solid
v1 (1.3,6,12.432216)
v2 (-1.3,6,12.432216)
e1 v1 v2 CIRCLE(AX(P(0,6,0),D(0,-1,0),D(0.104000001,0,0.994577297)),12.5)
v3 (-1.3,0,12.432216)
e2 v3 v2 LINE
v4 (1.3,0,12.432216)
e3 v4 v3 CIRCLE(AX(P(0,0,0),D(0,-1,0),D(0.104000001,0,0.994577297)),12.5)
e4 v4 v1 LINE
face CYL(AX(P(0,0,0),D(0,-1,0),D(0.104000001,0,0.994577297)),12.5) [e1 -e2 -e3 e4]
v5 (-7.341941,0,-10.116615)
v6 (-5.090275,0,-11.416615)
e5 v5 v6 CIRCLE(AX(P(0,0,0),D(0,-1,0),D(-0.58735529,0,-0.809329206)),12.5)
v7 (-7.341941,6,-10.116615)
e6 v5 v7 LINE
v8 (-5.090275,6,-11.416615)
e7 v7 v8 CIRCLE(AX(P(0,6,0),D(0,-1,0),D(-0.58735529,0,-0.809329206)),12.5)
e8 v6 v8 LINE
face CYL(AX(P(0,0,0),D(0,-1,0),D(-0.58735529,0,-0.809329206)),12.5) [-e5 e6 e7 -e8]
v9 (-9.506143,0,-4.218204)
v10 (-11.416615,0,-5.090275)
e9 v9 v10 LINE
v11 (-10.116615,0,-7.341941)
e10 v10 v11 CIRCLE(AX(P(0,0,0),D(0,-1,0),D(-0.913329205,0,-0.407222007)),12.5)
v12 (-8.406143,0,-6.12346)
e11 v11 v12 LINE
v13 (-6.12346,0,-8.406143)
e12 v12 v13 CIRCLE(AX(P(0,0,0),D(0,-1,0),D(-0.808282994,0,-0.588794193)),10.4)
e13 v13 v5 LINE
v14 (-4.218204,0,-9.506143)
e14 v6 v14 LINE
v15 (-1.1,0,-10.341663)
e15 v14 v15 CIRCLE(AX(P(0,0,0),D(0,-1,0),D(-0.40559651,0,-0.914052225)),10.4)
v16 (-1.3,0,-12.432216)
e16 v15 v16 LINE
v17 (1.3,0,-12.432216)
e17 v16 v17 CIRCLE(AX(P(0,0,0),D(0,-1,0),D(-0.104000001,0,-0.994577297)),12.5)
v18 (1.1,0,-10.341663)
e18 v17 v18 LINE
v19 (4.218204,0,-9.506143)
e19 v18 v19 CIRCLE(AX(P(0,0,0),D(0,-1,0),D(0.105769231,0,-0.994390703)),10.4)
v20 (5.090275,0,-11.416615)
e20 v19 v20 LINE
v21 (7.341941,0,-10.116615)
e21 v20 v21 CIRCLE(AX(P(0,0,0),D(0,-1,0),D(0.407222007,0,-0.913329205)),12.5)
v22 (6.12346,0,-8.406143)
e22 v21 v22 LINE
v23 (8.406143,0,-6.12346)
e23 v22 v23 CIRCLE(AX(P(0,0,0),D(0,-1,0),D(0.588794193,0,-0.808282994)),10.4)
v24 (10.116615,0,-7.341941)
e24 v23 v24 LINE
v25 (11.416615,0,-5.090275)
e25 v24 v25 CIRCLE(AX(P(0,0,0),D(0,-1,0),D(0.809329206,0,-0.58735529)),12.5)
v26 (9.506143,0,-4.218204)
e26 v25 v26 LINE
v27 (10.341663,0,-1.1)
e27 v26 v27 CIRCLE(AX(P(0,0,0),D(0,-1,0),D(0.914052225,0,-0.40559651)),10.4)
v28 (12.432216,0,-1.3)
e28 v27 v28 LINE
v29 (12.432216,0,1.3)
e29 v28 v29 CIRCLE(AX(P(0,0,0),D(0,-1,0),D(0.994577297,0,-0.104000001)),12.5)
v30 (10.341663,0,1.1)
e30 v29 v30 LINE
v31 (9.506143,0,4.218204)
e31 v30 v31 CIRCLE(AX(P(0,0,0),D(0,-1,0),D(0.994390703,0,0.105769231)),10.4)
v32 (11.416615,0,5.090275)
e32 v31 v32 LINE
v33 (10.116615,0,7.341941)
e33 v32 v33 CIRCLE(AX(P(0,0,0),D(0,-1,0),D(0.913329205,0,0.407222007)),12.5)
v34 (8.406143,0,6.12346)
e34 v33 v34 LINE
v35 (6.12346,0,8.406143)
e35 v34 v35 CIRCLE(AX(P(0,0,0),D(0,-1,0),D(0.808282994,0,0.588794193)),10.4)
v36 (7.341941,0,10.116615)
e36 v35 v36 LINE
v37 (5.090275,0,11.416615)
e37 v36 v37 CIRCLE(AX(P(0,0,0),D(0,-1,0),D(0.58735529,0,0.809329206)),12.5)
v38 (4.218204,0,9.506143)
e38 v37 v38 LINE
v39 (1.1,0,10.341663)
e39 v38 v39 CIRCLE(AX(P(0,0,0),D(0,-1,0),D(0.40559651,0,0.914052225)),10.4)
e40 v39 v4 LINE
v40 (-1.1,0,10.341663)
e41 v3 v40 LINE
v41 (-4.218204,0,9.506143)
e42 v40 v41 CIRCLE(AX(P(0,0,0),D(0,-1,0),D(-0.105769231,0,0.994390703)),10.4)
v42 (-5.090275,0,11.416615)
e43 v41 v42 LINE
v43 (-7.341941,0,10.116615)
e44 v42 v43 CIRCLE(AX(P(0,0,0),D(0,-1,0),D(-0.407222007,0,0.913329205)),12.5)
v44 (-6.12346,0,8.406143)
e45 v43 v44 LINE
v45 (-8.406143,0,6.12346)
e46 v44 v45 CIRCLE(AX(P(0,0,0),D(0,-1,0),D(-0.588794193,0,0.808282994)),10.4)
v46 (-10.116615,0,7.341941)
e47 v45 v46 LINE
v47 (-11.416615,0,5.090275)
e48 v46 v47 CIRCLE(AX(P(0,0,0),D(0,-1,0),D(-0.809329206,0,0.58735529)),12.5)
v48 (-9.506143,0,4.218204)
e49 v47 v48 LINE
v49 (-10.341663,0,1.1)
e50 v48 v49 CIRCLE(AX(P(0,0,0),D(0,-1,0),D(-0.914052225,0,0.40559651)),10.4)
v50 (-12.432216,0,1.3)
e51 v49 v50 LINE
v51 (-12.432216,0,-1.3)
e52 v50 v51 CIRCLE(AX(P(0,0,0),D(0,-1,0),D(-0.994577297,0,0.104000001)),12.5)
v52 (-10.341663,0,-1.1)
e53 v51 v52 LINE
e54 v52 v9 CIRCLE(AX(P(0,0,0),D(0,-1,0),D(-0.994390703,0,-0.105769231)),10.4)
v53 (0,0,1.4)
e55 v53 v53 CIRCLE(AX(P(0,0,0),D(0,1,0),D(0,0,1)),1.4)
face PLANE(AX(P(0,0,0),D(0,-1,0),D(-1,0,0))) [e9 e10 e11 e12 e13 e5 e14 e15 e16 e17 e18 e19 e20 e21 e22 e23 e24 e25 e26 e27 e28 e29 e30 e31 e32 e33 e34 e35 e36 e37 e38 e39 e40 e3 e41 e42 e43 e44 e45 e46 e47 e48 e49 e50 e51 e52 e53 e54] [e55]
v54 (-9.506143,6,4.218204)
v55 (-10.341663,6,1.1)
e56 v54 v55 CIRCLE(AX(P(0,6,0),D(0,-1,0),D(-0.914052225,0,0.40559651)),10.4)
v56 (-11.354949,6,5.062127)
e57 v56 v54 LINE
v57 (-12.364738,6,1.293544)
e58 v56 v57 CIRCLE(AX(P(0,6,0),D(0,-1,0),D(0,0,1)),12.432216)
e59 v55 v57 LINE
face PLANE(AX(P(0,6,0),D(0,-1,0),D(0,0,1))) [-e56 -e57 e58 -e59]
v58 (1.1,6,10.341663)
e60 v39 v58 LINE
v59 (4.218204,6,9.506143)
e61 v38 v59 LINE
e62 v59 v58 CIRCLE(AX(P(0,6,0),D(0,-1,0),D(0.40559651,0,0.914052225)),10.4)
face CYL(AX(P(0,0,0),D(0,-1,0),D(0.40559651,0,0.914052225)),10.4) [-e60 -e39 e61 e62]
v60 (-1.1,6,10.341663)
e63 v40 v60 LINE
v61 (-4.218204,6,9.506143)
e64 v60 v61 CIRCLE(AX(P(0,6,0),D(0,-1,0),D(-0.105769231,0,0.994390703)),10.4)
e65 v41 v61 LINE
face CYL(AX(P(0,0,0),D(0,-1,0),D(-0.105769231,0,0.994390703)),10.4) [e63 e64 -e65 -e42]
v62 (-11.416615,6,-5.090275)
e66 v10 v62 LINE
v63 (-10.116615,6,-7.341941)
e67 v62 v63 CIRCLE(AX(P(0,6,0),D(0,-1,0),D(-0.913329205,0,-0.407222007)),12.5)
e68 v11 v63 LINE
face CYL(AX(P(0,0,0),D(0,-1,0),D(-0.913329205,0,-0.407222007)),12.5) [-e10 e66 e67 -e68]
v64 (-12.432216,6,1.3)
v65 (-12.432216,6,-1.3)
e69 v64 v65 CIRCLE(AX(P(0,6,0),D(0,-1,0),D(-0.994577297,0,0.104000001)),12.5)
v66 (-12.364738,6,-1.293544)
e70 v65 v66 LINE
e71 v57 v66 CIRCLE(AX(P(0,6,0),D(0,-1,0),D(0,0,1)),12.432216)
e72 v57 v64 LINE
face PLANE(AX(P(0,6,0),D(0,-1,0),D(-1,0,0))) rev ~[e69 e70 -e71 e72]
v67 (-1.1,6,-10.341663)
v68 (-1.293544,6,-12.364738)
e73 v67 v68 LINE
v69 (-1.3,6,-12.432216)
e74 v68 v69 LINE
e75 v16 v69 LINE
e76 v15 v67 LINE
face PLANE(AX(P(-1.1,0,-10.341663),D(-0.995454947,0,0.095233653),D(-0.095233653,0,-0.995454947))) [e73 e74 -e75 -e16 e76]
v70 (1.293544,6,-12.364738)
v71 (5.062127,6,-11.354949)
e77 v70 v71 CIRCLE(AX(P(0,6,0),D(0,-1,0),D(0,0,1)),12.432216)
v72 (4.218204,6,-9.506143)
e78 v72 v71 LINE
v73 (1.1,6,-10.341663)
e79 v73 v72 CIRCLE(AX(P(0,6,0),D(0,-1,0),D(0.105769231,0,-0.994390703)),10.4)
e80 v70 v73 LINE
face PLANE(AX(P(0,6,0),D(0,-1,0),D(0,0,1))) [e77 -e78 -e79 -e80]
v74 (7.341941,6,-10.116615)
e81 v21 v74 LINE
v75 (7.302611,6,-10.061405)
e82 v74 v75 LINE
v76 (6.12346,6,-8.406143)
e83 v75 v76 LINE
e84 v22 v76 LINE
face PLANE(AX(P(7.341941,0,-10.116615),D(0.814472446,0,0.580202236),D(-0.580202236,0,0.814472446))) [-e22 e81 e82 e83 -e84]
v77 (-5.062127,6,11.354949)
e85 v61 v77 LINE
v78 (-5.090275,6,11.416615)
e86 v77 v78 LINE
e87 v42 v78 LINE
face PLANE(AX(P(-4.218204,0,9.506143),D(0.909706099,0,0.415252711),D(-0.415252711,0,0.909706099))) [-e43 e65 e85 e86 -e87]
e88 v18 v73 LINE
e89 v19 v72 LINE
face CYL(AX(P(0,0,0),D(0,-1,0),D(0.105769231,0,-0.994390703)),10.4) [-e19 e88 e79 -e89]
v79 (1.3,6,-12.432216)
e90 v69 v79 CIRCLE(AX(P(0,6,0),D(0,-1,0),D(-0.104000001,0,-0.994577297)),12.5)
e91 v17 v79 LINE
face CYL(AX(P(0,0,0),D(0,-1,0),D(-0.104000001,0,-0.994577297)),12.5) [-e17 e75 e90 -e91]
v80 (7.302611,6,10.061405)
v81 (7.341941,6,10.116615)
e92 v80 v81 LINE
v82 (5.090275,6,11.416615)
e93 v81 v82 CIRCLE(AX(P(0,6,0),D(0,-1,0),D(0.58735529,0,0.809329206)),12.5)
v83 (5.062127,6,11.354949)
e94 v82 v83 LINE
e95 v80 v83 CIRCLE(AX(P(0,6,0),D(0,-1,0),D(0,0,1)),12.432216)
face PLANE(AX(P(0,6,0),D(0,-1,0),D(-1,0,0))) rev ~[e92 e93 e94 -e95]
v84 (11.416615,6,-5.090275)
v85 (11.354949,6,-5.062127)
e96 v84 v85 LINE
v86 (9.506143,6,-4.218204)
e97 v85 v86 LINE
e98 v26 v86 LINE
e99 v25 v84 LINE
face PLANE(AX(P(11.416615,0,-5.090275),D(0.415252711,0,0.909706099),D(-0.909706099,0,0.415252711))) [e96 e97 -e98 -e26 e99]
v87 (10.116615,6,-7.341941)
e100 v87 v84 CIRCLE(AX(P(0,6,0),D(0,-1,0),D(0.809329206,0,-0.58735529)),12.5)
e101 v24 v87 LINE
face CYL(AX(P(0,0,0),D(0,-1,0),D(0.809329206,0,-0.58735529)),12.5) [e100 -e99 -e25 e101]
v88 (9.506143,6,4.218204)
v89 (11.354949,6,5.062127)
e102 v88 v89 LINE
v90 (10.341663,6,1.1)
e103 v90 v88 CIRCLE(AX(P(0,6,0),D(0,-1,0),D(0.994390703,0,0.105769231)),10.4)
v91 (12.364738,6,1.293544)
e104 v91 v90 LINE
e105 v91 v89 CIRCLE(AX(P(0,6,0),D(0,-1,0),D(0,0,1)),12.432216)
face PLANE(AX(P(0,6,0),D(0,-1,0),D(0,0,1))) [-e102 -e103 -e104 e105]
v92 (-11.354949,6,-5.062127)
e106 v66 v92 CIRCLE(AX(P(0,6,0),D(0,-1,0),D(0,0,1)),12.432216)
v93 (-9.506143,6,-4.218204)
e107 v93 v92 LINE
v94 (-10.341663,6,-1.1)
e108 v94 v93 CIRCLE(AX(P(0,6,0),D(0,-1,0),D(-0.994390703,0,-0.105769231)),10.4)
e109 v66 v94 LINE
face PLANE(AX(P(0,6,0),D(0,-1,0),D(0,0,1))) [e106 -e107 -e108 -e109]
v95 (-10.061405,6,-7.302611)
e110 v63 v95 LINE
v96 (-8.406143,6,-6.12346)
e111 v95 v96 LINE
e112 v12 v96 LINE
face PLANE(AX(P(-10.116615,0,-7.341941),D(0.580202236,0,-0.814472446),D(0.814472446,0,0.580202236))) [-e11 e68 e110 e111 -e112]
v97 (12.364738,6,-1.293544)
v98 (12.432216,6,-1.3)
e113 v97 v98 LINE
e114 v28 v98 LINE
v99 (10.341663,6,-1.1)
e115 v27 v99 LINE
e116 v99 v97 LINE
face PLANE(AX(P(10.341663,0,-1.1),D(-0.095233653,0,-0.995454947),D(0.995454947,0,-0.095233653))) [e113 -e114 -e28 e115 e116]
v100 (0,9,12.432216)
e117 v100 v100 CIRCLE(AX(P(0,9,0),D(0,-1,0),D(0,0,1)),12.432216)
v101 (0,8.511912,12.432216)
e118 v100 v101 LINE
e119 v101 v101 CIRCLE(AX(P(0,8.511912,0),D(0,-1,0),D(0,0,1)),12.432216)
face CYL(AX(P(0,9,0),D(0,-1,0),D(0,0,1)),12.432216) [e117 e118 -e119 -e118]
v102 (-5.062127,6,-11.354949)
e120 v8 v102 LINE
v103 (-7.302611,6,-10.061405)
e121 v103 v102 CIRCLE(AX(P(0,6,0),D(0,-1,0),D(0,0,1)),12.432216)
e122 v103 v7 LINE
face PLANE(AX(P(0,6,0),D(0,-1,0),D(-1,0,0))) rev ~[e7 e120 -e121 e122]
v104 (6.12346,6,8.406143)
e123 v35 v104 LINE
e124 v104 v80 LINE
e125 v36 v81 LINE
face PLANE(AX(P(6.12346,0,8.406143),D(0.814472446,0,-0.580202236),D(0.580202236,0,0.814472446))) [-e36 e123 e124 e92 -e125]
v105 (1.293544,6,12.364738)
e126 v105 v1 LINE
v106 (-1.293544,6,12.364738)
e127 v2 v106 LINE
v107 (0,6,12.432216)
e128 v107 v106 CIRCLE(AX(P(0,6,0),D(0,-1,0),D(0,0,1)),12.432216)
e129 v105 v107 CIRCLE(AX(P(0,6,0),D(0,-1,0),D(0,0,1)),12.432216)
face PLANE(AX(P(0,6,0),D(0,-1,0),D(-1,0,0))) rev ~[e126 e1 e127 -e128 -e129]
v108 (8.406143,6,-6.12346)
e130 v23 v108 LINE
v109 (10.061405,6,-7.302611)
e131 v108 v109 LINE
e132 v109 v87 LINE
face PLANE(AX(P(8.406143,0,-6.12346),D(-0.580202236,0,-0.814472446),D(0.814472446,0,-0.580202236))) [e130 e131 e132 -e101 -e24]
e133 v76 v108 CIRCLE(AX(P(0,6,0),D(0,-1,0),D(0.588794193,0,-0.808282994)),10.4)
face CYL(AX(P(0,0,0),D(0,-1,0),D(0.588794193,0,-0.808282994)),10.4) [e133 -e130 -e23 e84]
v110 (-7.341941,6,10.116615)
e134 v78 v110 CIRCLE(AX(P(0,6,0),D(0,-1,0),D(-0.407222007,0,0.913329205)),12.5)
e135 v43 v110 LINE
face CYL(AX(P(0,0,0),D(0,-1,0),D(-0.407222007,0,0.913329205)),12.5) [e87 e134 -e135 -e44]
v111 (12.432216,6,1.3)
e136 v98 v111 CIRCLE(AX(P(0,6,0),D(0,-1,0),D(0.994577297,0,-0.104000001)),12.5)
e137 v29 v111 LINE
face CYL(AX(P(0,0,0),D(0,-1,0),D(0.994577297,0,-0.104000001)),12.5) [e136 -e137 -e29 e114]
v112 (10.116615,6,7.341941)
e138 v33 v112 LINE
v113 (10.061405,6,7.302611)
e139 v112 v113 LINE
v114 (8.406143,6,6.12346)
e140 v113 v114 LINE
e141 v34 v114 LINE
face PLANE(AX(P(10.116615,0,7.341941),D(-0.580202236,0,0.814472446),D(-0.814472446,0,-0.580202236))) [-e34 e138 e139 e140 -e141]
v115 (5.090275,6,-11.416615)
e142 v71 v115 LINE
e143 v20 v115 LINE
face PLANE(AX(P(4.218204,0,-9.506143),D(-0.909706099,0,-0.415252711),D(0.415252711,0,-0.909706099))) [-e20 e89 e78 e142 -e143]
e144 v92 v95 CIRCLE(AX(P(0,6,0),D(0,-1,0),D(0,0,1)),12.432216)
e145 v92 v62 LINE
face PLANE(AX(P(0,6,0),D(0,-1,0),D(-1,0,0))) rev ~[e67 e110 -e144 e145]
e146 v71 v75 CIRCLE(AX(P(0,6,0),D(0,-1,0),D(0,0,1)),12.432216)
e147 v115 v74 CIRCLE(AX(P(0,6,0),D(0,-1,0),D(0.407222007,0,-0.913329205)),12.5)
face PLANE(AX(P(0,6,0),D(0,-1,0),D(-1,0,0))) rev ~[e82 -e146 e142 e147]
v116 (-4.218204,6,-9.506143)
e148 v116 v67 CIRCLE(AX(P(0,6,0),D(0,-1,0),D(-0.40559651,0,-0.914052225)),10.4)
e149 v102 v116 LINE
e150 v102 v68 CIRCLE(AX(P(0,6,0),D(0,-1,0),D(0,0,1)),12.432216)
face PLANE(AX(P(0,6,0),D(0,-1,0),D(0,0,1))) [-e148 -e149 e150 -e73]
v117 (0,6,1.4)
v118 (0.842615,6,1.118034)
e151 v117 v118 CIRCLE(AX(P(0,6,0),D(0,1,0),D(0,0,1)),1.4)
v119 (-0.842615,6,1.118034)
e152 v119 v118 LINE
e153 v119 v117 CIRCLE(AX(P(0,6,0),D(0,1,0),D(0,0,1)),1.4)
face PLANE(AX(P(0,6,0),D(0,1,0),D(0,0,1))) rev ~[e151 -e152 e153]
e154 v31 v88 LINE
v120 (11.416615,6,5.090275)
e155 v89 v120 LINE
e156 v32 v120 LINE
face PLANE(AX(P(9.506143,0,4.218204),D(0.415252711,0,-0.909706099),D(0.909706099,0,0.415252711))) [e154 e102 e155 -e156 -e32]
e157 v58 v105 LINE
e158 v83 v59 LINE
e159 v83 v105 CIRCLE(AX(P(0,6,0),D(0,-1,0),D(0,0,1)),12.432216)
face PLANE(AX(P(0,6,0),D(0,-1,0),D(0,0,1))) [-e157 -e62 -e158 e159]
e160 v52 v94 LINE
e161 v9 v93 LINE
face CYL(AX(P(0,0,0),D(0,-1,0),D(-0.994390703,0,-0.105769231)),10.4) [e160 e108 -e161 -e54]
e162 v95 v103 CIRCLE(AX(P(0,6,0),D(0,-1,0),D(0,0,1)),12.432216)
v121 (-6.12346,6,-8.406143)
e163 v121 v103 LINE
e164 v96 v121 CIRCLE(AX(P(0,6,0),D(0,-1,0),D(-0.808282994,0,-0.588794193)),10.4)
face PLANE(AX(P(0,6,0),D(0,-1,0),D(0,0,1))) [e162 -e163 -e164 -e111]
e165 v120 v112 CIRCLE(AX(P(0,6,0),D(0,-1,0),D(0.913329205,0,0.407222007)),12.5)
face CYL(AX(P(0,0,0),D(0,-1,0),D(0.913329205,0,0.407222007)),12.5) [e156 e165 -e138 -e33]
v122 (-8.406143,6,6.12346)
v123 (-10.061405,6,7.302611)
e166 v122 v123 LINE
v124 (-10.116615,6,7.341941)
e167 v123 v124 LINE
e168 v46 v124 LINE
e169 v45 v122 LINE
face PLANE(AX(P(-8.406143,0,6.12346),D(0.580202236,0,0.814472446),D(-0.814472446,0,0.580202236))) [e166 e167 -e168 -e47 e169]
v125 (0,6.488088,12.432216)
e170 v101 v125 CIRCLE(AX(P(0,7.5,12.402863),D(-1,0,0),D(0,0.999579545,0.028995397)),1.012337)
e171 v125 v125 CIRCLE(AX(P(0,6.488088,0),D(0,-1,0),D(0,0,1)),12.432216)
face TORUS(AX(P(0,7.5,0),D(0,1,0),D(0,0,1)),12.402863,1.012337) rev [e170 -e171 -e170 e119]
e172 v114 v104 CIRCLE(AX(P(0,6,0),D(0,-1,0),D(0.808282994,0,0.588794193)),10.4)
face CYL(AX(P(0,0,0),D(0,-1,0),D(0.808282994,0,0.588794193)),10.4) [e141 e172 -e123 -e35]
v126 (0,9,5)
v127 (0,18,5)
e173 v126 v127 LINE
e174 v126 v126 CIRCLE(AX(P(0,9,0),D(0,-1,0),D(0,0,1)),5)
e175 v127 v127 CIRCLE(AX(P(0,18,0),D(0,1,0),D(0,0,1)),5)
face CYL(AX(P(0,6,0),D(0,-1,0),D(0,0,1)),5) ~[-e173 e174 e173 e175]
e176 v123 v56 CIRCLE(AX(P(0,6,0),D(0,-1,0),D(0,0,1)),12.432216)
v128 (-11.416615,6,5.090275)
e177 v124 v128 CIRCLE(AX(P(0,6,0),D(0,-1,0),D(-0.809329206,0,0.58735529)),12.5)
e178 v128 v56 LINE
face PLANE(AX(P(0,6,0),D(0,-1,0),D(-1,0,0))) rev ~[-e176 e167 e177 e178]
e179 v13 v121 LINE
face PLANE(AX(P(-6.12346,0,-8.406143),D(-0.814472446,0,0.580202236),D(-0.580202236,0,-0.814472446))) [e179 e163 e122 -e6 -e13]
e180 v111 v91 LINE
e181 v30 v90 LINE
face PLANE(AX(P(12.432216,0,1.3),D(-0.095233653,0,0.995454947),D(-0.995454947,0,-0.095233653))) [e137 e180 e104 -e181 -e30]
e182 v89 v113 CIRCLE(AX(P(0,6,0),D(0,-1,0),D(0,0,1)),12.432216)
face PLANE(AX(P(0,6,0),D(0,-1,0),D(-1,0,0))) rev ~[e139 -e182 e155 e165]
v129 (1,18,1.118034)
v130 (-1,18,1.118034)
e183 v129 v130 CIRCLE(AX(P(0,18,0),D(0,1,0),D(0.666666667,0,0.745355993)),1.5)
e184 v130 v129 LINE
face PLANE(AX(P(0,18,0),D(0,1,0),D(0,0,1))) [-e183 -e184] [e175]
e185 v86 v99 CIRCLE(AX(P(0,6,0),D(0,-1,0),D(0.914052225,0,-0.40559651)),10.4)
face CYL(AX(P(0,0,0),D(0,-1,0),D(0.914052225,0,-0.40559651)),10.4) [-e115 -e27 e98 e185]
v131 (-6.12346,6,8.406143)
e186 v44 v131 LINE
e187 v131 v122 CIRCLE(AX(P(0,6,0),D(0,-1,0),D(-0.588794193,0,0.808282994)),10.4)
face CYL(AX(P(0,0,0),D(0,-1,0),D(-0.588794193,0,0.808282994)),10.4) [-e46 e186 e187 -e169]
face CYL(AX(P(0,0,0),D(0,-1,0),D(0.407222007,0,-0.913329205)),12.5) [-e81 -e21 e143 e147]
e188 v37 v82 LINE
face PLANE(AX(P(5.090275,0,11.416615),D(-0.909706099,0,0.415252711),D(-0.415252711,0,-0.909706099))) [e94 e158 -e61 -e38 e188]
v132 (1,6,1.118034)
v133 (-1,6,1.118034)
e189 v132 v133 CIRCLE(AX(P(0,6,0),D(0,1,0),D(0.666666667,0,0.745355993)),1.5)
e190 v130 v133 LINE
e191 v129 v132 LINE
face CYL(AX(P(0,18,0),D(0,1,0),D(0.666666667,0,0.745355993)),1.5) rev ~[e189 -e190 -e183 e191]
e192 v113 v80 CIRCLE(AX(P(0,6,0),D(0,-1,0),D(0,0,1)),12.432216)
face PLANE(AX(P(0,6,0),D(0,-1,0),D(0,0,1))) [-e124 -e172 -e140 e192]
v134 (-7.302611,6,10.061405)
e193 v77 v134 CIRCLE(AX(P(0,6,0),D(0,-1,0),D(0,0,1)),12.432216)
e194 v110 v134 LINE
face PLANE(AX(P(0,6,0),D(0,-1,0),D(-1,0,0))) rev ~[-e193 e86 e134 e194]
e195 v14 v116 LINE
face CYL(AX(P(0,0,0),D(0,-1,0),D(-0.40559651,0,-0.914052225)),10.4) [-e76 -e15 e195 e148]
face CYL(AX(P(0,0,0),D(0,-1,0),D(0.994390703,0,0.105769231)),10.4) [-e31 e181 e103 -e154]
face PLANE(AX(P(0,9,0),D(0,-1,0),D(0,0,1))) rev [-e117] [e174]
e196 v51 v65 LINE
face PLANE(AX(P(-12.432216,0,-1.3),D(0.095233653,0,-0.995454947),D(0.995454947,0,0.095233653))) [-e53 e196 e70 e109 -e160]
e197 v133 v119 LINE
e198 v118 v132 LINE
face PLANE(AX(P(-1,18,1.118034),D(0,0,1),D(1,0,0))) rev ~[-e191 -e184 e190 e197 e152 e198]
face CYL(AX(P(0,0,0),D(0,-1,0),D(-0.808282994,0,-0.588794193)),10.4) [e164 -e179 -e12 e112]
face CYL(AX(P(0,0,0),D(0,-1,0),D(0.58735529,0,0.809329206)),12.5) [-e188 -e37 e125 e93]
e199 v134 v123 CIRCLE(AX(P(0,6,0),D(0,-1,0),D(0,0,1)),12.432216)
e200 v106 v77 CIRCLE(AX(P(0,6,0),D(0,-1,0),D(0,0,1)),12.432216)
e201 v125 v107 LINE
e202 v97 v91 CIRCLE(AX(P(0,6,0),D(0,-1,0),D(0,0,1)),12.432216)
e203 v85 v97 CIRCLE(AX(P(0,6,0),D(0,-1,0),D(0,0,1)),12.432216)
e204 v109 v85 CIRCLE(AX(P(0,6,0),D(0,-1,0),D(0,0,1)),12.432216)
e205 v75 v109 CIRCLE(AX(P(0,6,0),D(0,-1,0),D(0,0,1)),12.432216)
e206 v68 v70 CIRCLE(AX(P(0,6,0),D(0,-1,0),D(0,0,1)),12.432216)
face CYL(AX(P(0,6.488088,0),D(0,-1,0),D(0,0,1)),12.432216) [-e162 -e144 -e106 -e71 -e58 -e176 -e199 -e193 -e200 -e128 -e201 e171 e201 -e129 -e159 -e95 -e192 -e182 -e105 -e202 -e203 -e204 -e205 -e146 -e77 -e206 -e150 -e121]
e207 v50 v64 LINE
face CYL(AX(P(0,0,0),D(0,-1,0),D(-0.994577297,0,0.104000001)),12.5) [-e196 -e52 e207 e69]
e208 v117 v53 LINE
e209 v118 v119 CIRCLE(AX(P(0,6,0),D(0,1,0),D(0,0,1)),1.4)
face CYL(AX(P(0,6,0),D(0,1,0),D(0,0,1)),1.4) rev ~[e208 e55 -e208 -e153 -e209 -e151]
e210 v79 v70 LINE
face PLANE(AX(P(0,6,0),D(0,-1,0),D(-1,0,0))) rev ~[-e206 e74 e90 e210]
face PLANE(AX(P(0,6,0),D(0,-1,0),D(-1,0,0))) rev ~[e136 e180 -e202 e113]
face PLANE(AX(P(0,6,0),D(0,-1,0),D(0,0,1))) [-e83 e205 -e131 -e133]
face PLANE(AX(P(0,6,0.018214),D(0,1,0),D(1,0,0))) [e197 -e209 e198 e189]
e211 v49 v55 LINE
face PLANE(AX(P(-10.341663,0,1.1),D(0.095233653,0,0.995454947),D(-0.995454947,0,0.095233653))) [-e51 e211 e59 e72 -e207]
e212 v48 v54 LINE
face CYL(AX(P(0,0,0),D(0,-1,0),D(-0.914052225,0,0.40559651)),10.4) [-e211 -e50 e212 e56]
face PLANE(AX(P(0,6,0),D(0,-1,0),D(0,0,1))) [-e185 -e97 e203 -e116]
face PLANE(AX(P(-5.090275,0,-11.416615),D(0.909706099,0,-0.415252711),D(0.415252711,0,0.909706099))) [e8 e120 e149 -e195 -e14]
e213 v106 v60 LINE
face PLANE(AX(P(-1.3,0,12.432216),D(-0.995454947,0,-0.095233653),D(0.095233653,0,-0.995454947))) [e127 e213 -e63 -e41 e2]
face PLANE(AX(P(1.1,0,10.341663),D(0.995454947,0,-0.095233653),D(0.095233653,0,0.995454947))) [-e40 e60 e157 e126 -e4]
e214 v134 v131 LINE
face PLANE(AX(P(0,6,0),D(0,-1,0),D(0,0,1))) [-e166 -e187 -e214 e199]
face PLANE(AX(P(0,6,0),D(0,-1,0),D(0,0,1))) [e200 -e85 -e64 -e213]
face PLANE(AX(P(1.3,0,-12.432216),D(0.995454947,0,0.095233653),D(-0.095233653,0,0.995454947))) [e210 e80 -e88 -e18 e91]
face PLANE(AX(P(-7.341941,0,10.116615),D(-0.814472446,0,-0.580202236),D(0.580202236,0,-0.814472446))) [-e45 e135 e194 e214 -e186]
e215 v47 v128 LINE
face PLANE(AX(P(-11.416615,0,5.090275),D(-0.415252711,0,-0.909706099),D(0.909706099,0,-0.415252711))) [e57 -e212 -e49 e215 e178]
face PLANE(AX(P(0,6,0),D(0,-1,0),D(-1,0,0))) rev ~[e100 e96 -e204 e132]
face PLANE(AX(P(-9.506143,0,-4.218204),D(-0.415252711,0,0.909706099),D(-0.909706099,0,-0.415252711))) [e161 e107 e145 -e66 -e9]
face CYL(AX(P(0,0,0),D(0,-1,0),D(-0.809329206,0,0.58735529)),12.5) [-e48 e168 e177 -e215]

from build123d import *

# Parameters (mm, degrees)
EXTRUDE_1_DEPTH     = 6
SKETCH_3_R          = 1.4
CUT_EXTRUDE_1_DEPTH = 6
SKETCH_4_R          = 5
EXTRUDE_2_DEPTH     = 12
CUT_EXTRUDE_2_DEPTH = 12


with BuildPart() as part:
    # 草图2 → 凸台-拉伸1 (new body)
    with BuildSketch(Plane(origin=(0, 0, 0), x_dir=(1, 0, 0), z_dir=(0, 1, 0))):
        with BuildLine():
            Line((-1.1, 10.341663309), (-1.3, 12.432216214))
            ThreePointArc((-1.3, 12.432216214), (0, 12.5), (1.3, 12.432216214))
            Line((1.3, 12.432216214), (1.1, 10.341663309))
            ThreePointArc((1.1, 10.341663309), (2.691718069, 10.045628593), (4.21820371, 9.506143143))
            Line((4.21820371, 9.506143143), (5.090275082, 11.416615067))
            ThreePointArc((5.090275082, 11.416615067), (6.25, 10.825317547), (7.341941132, 10.116615067))
            Line((7.341941132, 10.116615067), (6.123459599, 8.406143143))
            ThreePointArc((6.123459599, 8.406143143), (7.353910524, 7.353910524), (8.406143143, 6.123459599))
            Line((8.406143143, 6.123459599), (10.116615067, 7.341941132))
            ThreePointArc((10.116615067, 7.341941132), (10.825317547, 6.25), (11.416615067, 5.090275082))
            Line((11.416615067, 5.090275082), (9.506143143, 4.21820371))
            ThreePointArc((9.506143143, 4.21820371), (10.045628593, 2.691718069), (10.341663309, 1.1))
            Line((10.341663309, 1.1), (12.432216214, 1.3))
            ThreePointArc((12.432216214, 1.3), (12.5, 0), (12.432216214, -1.3))
            Line((12.432216214, -1.3), (10.341663309, -1.1))
            ThreePointArc((10.341663309, -1.1), (10.045628593, -2.691718069), (9.506143143, -4.21820371))
            Line((9.506143143, -4.21820371), (11.416615067, -5.090275082))
            ThreePointArc((11.416615067, -5.090275082), (10.825317547, -6.25), (10.116615067, -7.341941132))
            Line((10.116615067, -7.341941132), (8.406143143, -6.123459599))
            ThreePointArc((8.406143143, -6.123459599), (7.353910524, -7.353910524), (6.123459599, -8.406143143))
            Line((6.123459599, -8.406143143), (7.341941132, -10.116615067))
            ThreePointArc((7.341941132, -10.116615067), (6.25, -10.825317547), (5.090275082, -11.416615067))
            Line((5.090275082, -11.416615067), (4.21820371, -9.506143143))
            ThreePointArc((4.21820371, -9.506143143), (2.691718069, -10.045628593), (1.1, -10.341663309))
            Line((1.1, -10.341663309), (1.3, -12.432216214))
            ThreePointArc((1.3, -12.432216214), (0, -12.5), (-1.3, -12.432216214))
            Line((-1.3, -12.432216214), (-1.1, -10.341663309))
            ThreePointArc((-1.1, -10.341663309), (-2.691718069, -10.045628593), (-4.21820371, -9.506143143))
            Line((-4.21820371, -9.506143143), (-5.090275082, -11.416615067))
            ThreePointArc((-5.090275082, -11.416615067), (-6.25, -10.825317547), (-7.341941132, -10.116615067))
            Line((-7.341941132, -10.116615067), (-6.123459599, -8.406143143))
            ThreePointArc((-6.123459599, -8.406143143), (-7.353910524, -7.353910524), (-8.406143143, -6.123459599))
            Line((-8.406143143, -6.123459599), (-10.116615067, -7.341941132))
            ThreePointArc((-10.116615067, -7.341941132), (-10.825317547, -6.25), (-11.416615067, -5.090275082))
            Line((-11.416615067, -5.090275082), (-9.506143143, -4.21820371))
            ThreePointArc((-9.506143143, -4.21820371), (-10.045628593, -2.691718069), (-10.341663309, -1.1))
            Line((-10.341663309, -1.1), (-12.432216214, -1.3))
            ThreePointArc((-12.432216214, -1.3), (-12.5, 0), (-12.432216214, 1.3))
            Line((-12.432216214, 1.3), (-10.341663309, 1.1))
            ThreePointArc((-10.341663309, 1.1), (-10.045628593, 2.691718069), (-9.506143143, 4.21820371))
            Line((-9.506143143, 4.21820371), (-11.416615067, 5.090275082))
            ThreePointArc((-11.416615067, 5.090275082), (-10.825317547, 6.25), (-10.116615067, 7.341941132))
            Line((-10.116615067, 7.341941132), (-8.406143143, 6.123459599))
            ThreePointArc((-8.406143143, 6.123459599), (-7.353910524, 7.353910524), (-6.123459599, 8.406143143))
            Line((-6.123459599, 8.406143143), (-7.341941132, 10.116615067))
            ThreePointArc((-7.341941132, 10.116615067), (-6.25, 10.825317547), (-5.090275082, 11.416615067))
            Line((-5.090275082, 11.416615067), (-4.21820371, 9.506143143))
            ThreePointArc((-4.21820371, 9.506143143), (-2.691718069, 10.045628593), (-1.1, 10.341663309))
        make_face()
    extrude(amount=EXTRUDE_1_DEPTH)

    # 草图3 → 切除-拉伸1 (cut)
    with BuildSketch(Plane(origin=(0, 6, 0), x_dir=(1, 0, 0), z_dir=(0, 1, 0))):
        with Locations(Location((0, 0, 0), (0, 0, 270))):
            Circle(SKETCH_3_R)
    extrude(amount=-CUT_EXTRUDE_1_DEPTH, mode=Mode.SUBTRACT)

    # 草图4 → 凸台-拉伸2 (add)
    with BuildSketch(Plane(origin=(0, 6, 0), x_dir=(1, 0, 0), z_dir=(0, 1, 0))):
        with Locations(Location((0, 0, 0), (0, 0, 270))):
            Circle(SKETCH_4_R)
    extrude(amount=EXTRUDE_2_DEPTH)

    # 草图5 → 切除-拉伸2 (cut)
    with BuildSketch(Plane(origin=(0, 18, 0), x_dir=(1, 0, 0), z_dir=(0, 1, 0))):
        with BuildLine():
            Line((-1, -1.118033989), (1, -1.118033989))
            ThreePointArc((1, -1.118033989), (0, 1.5), (-1, -1.118033989))
        make_face()
    extrude(amount=-CUT_EXTRUDE_2_DEPTH, mode=Mode.SUBTRACT)

    # 草图7 → 旋转1 (revolve)
    with BuildSketch(Plane(origin=(0, 0, 0), x_dir=(0, 0, -1), z_dir=(1, 0, 0)), mode=Mode.PRIVATE) as revolve_1_sk:
        with BuildLine():
            Line((5, 9), (12.432216214, 9))
            Line((12.432216214, 9), (12.432216214, 8.511911797))
            ThreePointArc((12.432216214, 8.511911797), (11.390525649, 7.5), (12.432216214, 6.488088203))
            Line((12.432216214, 6.488088203), (12.432216214, 6))
            Line((12.432216214, 6), (5, 6))
            Line((5, 6), (5, 9))
        make_face()
    revolve(revolve_1_sk.sketch.rotate(Axis((0, 19.919763073, 0), (0, -1, 0)), 180), axis=Axis((0, 19.919763073, 0), (0, -1, 0)))


solid = part.part
